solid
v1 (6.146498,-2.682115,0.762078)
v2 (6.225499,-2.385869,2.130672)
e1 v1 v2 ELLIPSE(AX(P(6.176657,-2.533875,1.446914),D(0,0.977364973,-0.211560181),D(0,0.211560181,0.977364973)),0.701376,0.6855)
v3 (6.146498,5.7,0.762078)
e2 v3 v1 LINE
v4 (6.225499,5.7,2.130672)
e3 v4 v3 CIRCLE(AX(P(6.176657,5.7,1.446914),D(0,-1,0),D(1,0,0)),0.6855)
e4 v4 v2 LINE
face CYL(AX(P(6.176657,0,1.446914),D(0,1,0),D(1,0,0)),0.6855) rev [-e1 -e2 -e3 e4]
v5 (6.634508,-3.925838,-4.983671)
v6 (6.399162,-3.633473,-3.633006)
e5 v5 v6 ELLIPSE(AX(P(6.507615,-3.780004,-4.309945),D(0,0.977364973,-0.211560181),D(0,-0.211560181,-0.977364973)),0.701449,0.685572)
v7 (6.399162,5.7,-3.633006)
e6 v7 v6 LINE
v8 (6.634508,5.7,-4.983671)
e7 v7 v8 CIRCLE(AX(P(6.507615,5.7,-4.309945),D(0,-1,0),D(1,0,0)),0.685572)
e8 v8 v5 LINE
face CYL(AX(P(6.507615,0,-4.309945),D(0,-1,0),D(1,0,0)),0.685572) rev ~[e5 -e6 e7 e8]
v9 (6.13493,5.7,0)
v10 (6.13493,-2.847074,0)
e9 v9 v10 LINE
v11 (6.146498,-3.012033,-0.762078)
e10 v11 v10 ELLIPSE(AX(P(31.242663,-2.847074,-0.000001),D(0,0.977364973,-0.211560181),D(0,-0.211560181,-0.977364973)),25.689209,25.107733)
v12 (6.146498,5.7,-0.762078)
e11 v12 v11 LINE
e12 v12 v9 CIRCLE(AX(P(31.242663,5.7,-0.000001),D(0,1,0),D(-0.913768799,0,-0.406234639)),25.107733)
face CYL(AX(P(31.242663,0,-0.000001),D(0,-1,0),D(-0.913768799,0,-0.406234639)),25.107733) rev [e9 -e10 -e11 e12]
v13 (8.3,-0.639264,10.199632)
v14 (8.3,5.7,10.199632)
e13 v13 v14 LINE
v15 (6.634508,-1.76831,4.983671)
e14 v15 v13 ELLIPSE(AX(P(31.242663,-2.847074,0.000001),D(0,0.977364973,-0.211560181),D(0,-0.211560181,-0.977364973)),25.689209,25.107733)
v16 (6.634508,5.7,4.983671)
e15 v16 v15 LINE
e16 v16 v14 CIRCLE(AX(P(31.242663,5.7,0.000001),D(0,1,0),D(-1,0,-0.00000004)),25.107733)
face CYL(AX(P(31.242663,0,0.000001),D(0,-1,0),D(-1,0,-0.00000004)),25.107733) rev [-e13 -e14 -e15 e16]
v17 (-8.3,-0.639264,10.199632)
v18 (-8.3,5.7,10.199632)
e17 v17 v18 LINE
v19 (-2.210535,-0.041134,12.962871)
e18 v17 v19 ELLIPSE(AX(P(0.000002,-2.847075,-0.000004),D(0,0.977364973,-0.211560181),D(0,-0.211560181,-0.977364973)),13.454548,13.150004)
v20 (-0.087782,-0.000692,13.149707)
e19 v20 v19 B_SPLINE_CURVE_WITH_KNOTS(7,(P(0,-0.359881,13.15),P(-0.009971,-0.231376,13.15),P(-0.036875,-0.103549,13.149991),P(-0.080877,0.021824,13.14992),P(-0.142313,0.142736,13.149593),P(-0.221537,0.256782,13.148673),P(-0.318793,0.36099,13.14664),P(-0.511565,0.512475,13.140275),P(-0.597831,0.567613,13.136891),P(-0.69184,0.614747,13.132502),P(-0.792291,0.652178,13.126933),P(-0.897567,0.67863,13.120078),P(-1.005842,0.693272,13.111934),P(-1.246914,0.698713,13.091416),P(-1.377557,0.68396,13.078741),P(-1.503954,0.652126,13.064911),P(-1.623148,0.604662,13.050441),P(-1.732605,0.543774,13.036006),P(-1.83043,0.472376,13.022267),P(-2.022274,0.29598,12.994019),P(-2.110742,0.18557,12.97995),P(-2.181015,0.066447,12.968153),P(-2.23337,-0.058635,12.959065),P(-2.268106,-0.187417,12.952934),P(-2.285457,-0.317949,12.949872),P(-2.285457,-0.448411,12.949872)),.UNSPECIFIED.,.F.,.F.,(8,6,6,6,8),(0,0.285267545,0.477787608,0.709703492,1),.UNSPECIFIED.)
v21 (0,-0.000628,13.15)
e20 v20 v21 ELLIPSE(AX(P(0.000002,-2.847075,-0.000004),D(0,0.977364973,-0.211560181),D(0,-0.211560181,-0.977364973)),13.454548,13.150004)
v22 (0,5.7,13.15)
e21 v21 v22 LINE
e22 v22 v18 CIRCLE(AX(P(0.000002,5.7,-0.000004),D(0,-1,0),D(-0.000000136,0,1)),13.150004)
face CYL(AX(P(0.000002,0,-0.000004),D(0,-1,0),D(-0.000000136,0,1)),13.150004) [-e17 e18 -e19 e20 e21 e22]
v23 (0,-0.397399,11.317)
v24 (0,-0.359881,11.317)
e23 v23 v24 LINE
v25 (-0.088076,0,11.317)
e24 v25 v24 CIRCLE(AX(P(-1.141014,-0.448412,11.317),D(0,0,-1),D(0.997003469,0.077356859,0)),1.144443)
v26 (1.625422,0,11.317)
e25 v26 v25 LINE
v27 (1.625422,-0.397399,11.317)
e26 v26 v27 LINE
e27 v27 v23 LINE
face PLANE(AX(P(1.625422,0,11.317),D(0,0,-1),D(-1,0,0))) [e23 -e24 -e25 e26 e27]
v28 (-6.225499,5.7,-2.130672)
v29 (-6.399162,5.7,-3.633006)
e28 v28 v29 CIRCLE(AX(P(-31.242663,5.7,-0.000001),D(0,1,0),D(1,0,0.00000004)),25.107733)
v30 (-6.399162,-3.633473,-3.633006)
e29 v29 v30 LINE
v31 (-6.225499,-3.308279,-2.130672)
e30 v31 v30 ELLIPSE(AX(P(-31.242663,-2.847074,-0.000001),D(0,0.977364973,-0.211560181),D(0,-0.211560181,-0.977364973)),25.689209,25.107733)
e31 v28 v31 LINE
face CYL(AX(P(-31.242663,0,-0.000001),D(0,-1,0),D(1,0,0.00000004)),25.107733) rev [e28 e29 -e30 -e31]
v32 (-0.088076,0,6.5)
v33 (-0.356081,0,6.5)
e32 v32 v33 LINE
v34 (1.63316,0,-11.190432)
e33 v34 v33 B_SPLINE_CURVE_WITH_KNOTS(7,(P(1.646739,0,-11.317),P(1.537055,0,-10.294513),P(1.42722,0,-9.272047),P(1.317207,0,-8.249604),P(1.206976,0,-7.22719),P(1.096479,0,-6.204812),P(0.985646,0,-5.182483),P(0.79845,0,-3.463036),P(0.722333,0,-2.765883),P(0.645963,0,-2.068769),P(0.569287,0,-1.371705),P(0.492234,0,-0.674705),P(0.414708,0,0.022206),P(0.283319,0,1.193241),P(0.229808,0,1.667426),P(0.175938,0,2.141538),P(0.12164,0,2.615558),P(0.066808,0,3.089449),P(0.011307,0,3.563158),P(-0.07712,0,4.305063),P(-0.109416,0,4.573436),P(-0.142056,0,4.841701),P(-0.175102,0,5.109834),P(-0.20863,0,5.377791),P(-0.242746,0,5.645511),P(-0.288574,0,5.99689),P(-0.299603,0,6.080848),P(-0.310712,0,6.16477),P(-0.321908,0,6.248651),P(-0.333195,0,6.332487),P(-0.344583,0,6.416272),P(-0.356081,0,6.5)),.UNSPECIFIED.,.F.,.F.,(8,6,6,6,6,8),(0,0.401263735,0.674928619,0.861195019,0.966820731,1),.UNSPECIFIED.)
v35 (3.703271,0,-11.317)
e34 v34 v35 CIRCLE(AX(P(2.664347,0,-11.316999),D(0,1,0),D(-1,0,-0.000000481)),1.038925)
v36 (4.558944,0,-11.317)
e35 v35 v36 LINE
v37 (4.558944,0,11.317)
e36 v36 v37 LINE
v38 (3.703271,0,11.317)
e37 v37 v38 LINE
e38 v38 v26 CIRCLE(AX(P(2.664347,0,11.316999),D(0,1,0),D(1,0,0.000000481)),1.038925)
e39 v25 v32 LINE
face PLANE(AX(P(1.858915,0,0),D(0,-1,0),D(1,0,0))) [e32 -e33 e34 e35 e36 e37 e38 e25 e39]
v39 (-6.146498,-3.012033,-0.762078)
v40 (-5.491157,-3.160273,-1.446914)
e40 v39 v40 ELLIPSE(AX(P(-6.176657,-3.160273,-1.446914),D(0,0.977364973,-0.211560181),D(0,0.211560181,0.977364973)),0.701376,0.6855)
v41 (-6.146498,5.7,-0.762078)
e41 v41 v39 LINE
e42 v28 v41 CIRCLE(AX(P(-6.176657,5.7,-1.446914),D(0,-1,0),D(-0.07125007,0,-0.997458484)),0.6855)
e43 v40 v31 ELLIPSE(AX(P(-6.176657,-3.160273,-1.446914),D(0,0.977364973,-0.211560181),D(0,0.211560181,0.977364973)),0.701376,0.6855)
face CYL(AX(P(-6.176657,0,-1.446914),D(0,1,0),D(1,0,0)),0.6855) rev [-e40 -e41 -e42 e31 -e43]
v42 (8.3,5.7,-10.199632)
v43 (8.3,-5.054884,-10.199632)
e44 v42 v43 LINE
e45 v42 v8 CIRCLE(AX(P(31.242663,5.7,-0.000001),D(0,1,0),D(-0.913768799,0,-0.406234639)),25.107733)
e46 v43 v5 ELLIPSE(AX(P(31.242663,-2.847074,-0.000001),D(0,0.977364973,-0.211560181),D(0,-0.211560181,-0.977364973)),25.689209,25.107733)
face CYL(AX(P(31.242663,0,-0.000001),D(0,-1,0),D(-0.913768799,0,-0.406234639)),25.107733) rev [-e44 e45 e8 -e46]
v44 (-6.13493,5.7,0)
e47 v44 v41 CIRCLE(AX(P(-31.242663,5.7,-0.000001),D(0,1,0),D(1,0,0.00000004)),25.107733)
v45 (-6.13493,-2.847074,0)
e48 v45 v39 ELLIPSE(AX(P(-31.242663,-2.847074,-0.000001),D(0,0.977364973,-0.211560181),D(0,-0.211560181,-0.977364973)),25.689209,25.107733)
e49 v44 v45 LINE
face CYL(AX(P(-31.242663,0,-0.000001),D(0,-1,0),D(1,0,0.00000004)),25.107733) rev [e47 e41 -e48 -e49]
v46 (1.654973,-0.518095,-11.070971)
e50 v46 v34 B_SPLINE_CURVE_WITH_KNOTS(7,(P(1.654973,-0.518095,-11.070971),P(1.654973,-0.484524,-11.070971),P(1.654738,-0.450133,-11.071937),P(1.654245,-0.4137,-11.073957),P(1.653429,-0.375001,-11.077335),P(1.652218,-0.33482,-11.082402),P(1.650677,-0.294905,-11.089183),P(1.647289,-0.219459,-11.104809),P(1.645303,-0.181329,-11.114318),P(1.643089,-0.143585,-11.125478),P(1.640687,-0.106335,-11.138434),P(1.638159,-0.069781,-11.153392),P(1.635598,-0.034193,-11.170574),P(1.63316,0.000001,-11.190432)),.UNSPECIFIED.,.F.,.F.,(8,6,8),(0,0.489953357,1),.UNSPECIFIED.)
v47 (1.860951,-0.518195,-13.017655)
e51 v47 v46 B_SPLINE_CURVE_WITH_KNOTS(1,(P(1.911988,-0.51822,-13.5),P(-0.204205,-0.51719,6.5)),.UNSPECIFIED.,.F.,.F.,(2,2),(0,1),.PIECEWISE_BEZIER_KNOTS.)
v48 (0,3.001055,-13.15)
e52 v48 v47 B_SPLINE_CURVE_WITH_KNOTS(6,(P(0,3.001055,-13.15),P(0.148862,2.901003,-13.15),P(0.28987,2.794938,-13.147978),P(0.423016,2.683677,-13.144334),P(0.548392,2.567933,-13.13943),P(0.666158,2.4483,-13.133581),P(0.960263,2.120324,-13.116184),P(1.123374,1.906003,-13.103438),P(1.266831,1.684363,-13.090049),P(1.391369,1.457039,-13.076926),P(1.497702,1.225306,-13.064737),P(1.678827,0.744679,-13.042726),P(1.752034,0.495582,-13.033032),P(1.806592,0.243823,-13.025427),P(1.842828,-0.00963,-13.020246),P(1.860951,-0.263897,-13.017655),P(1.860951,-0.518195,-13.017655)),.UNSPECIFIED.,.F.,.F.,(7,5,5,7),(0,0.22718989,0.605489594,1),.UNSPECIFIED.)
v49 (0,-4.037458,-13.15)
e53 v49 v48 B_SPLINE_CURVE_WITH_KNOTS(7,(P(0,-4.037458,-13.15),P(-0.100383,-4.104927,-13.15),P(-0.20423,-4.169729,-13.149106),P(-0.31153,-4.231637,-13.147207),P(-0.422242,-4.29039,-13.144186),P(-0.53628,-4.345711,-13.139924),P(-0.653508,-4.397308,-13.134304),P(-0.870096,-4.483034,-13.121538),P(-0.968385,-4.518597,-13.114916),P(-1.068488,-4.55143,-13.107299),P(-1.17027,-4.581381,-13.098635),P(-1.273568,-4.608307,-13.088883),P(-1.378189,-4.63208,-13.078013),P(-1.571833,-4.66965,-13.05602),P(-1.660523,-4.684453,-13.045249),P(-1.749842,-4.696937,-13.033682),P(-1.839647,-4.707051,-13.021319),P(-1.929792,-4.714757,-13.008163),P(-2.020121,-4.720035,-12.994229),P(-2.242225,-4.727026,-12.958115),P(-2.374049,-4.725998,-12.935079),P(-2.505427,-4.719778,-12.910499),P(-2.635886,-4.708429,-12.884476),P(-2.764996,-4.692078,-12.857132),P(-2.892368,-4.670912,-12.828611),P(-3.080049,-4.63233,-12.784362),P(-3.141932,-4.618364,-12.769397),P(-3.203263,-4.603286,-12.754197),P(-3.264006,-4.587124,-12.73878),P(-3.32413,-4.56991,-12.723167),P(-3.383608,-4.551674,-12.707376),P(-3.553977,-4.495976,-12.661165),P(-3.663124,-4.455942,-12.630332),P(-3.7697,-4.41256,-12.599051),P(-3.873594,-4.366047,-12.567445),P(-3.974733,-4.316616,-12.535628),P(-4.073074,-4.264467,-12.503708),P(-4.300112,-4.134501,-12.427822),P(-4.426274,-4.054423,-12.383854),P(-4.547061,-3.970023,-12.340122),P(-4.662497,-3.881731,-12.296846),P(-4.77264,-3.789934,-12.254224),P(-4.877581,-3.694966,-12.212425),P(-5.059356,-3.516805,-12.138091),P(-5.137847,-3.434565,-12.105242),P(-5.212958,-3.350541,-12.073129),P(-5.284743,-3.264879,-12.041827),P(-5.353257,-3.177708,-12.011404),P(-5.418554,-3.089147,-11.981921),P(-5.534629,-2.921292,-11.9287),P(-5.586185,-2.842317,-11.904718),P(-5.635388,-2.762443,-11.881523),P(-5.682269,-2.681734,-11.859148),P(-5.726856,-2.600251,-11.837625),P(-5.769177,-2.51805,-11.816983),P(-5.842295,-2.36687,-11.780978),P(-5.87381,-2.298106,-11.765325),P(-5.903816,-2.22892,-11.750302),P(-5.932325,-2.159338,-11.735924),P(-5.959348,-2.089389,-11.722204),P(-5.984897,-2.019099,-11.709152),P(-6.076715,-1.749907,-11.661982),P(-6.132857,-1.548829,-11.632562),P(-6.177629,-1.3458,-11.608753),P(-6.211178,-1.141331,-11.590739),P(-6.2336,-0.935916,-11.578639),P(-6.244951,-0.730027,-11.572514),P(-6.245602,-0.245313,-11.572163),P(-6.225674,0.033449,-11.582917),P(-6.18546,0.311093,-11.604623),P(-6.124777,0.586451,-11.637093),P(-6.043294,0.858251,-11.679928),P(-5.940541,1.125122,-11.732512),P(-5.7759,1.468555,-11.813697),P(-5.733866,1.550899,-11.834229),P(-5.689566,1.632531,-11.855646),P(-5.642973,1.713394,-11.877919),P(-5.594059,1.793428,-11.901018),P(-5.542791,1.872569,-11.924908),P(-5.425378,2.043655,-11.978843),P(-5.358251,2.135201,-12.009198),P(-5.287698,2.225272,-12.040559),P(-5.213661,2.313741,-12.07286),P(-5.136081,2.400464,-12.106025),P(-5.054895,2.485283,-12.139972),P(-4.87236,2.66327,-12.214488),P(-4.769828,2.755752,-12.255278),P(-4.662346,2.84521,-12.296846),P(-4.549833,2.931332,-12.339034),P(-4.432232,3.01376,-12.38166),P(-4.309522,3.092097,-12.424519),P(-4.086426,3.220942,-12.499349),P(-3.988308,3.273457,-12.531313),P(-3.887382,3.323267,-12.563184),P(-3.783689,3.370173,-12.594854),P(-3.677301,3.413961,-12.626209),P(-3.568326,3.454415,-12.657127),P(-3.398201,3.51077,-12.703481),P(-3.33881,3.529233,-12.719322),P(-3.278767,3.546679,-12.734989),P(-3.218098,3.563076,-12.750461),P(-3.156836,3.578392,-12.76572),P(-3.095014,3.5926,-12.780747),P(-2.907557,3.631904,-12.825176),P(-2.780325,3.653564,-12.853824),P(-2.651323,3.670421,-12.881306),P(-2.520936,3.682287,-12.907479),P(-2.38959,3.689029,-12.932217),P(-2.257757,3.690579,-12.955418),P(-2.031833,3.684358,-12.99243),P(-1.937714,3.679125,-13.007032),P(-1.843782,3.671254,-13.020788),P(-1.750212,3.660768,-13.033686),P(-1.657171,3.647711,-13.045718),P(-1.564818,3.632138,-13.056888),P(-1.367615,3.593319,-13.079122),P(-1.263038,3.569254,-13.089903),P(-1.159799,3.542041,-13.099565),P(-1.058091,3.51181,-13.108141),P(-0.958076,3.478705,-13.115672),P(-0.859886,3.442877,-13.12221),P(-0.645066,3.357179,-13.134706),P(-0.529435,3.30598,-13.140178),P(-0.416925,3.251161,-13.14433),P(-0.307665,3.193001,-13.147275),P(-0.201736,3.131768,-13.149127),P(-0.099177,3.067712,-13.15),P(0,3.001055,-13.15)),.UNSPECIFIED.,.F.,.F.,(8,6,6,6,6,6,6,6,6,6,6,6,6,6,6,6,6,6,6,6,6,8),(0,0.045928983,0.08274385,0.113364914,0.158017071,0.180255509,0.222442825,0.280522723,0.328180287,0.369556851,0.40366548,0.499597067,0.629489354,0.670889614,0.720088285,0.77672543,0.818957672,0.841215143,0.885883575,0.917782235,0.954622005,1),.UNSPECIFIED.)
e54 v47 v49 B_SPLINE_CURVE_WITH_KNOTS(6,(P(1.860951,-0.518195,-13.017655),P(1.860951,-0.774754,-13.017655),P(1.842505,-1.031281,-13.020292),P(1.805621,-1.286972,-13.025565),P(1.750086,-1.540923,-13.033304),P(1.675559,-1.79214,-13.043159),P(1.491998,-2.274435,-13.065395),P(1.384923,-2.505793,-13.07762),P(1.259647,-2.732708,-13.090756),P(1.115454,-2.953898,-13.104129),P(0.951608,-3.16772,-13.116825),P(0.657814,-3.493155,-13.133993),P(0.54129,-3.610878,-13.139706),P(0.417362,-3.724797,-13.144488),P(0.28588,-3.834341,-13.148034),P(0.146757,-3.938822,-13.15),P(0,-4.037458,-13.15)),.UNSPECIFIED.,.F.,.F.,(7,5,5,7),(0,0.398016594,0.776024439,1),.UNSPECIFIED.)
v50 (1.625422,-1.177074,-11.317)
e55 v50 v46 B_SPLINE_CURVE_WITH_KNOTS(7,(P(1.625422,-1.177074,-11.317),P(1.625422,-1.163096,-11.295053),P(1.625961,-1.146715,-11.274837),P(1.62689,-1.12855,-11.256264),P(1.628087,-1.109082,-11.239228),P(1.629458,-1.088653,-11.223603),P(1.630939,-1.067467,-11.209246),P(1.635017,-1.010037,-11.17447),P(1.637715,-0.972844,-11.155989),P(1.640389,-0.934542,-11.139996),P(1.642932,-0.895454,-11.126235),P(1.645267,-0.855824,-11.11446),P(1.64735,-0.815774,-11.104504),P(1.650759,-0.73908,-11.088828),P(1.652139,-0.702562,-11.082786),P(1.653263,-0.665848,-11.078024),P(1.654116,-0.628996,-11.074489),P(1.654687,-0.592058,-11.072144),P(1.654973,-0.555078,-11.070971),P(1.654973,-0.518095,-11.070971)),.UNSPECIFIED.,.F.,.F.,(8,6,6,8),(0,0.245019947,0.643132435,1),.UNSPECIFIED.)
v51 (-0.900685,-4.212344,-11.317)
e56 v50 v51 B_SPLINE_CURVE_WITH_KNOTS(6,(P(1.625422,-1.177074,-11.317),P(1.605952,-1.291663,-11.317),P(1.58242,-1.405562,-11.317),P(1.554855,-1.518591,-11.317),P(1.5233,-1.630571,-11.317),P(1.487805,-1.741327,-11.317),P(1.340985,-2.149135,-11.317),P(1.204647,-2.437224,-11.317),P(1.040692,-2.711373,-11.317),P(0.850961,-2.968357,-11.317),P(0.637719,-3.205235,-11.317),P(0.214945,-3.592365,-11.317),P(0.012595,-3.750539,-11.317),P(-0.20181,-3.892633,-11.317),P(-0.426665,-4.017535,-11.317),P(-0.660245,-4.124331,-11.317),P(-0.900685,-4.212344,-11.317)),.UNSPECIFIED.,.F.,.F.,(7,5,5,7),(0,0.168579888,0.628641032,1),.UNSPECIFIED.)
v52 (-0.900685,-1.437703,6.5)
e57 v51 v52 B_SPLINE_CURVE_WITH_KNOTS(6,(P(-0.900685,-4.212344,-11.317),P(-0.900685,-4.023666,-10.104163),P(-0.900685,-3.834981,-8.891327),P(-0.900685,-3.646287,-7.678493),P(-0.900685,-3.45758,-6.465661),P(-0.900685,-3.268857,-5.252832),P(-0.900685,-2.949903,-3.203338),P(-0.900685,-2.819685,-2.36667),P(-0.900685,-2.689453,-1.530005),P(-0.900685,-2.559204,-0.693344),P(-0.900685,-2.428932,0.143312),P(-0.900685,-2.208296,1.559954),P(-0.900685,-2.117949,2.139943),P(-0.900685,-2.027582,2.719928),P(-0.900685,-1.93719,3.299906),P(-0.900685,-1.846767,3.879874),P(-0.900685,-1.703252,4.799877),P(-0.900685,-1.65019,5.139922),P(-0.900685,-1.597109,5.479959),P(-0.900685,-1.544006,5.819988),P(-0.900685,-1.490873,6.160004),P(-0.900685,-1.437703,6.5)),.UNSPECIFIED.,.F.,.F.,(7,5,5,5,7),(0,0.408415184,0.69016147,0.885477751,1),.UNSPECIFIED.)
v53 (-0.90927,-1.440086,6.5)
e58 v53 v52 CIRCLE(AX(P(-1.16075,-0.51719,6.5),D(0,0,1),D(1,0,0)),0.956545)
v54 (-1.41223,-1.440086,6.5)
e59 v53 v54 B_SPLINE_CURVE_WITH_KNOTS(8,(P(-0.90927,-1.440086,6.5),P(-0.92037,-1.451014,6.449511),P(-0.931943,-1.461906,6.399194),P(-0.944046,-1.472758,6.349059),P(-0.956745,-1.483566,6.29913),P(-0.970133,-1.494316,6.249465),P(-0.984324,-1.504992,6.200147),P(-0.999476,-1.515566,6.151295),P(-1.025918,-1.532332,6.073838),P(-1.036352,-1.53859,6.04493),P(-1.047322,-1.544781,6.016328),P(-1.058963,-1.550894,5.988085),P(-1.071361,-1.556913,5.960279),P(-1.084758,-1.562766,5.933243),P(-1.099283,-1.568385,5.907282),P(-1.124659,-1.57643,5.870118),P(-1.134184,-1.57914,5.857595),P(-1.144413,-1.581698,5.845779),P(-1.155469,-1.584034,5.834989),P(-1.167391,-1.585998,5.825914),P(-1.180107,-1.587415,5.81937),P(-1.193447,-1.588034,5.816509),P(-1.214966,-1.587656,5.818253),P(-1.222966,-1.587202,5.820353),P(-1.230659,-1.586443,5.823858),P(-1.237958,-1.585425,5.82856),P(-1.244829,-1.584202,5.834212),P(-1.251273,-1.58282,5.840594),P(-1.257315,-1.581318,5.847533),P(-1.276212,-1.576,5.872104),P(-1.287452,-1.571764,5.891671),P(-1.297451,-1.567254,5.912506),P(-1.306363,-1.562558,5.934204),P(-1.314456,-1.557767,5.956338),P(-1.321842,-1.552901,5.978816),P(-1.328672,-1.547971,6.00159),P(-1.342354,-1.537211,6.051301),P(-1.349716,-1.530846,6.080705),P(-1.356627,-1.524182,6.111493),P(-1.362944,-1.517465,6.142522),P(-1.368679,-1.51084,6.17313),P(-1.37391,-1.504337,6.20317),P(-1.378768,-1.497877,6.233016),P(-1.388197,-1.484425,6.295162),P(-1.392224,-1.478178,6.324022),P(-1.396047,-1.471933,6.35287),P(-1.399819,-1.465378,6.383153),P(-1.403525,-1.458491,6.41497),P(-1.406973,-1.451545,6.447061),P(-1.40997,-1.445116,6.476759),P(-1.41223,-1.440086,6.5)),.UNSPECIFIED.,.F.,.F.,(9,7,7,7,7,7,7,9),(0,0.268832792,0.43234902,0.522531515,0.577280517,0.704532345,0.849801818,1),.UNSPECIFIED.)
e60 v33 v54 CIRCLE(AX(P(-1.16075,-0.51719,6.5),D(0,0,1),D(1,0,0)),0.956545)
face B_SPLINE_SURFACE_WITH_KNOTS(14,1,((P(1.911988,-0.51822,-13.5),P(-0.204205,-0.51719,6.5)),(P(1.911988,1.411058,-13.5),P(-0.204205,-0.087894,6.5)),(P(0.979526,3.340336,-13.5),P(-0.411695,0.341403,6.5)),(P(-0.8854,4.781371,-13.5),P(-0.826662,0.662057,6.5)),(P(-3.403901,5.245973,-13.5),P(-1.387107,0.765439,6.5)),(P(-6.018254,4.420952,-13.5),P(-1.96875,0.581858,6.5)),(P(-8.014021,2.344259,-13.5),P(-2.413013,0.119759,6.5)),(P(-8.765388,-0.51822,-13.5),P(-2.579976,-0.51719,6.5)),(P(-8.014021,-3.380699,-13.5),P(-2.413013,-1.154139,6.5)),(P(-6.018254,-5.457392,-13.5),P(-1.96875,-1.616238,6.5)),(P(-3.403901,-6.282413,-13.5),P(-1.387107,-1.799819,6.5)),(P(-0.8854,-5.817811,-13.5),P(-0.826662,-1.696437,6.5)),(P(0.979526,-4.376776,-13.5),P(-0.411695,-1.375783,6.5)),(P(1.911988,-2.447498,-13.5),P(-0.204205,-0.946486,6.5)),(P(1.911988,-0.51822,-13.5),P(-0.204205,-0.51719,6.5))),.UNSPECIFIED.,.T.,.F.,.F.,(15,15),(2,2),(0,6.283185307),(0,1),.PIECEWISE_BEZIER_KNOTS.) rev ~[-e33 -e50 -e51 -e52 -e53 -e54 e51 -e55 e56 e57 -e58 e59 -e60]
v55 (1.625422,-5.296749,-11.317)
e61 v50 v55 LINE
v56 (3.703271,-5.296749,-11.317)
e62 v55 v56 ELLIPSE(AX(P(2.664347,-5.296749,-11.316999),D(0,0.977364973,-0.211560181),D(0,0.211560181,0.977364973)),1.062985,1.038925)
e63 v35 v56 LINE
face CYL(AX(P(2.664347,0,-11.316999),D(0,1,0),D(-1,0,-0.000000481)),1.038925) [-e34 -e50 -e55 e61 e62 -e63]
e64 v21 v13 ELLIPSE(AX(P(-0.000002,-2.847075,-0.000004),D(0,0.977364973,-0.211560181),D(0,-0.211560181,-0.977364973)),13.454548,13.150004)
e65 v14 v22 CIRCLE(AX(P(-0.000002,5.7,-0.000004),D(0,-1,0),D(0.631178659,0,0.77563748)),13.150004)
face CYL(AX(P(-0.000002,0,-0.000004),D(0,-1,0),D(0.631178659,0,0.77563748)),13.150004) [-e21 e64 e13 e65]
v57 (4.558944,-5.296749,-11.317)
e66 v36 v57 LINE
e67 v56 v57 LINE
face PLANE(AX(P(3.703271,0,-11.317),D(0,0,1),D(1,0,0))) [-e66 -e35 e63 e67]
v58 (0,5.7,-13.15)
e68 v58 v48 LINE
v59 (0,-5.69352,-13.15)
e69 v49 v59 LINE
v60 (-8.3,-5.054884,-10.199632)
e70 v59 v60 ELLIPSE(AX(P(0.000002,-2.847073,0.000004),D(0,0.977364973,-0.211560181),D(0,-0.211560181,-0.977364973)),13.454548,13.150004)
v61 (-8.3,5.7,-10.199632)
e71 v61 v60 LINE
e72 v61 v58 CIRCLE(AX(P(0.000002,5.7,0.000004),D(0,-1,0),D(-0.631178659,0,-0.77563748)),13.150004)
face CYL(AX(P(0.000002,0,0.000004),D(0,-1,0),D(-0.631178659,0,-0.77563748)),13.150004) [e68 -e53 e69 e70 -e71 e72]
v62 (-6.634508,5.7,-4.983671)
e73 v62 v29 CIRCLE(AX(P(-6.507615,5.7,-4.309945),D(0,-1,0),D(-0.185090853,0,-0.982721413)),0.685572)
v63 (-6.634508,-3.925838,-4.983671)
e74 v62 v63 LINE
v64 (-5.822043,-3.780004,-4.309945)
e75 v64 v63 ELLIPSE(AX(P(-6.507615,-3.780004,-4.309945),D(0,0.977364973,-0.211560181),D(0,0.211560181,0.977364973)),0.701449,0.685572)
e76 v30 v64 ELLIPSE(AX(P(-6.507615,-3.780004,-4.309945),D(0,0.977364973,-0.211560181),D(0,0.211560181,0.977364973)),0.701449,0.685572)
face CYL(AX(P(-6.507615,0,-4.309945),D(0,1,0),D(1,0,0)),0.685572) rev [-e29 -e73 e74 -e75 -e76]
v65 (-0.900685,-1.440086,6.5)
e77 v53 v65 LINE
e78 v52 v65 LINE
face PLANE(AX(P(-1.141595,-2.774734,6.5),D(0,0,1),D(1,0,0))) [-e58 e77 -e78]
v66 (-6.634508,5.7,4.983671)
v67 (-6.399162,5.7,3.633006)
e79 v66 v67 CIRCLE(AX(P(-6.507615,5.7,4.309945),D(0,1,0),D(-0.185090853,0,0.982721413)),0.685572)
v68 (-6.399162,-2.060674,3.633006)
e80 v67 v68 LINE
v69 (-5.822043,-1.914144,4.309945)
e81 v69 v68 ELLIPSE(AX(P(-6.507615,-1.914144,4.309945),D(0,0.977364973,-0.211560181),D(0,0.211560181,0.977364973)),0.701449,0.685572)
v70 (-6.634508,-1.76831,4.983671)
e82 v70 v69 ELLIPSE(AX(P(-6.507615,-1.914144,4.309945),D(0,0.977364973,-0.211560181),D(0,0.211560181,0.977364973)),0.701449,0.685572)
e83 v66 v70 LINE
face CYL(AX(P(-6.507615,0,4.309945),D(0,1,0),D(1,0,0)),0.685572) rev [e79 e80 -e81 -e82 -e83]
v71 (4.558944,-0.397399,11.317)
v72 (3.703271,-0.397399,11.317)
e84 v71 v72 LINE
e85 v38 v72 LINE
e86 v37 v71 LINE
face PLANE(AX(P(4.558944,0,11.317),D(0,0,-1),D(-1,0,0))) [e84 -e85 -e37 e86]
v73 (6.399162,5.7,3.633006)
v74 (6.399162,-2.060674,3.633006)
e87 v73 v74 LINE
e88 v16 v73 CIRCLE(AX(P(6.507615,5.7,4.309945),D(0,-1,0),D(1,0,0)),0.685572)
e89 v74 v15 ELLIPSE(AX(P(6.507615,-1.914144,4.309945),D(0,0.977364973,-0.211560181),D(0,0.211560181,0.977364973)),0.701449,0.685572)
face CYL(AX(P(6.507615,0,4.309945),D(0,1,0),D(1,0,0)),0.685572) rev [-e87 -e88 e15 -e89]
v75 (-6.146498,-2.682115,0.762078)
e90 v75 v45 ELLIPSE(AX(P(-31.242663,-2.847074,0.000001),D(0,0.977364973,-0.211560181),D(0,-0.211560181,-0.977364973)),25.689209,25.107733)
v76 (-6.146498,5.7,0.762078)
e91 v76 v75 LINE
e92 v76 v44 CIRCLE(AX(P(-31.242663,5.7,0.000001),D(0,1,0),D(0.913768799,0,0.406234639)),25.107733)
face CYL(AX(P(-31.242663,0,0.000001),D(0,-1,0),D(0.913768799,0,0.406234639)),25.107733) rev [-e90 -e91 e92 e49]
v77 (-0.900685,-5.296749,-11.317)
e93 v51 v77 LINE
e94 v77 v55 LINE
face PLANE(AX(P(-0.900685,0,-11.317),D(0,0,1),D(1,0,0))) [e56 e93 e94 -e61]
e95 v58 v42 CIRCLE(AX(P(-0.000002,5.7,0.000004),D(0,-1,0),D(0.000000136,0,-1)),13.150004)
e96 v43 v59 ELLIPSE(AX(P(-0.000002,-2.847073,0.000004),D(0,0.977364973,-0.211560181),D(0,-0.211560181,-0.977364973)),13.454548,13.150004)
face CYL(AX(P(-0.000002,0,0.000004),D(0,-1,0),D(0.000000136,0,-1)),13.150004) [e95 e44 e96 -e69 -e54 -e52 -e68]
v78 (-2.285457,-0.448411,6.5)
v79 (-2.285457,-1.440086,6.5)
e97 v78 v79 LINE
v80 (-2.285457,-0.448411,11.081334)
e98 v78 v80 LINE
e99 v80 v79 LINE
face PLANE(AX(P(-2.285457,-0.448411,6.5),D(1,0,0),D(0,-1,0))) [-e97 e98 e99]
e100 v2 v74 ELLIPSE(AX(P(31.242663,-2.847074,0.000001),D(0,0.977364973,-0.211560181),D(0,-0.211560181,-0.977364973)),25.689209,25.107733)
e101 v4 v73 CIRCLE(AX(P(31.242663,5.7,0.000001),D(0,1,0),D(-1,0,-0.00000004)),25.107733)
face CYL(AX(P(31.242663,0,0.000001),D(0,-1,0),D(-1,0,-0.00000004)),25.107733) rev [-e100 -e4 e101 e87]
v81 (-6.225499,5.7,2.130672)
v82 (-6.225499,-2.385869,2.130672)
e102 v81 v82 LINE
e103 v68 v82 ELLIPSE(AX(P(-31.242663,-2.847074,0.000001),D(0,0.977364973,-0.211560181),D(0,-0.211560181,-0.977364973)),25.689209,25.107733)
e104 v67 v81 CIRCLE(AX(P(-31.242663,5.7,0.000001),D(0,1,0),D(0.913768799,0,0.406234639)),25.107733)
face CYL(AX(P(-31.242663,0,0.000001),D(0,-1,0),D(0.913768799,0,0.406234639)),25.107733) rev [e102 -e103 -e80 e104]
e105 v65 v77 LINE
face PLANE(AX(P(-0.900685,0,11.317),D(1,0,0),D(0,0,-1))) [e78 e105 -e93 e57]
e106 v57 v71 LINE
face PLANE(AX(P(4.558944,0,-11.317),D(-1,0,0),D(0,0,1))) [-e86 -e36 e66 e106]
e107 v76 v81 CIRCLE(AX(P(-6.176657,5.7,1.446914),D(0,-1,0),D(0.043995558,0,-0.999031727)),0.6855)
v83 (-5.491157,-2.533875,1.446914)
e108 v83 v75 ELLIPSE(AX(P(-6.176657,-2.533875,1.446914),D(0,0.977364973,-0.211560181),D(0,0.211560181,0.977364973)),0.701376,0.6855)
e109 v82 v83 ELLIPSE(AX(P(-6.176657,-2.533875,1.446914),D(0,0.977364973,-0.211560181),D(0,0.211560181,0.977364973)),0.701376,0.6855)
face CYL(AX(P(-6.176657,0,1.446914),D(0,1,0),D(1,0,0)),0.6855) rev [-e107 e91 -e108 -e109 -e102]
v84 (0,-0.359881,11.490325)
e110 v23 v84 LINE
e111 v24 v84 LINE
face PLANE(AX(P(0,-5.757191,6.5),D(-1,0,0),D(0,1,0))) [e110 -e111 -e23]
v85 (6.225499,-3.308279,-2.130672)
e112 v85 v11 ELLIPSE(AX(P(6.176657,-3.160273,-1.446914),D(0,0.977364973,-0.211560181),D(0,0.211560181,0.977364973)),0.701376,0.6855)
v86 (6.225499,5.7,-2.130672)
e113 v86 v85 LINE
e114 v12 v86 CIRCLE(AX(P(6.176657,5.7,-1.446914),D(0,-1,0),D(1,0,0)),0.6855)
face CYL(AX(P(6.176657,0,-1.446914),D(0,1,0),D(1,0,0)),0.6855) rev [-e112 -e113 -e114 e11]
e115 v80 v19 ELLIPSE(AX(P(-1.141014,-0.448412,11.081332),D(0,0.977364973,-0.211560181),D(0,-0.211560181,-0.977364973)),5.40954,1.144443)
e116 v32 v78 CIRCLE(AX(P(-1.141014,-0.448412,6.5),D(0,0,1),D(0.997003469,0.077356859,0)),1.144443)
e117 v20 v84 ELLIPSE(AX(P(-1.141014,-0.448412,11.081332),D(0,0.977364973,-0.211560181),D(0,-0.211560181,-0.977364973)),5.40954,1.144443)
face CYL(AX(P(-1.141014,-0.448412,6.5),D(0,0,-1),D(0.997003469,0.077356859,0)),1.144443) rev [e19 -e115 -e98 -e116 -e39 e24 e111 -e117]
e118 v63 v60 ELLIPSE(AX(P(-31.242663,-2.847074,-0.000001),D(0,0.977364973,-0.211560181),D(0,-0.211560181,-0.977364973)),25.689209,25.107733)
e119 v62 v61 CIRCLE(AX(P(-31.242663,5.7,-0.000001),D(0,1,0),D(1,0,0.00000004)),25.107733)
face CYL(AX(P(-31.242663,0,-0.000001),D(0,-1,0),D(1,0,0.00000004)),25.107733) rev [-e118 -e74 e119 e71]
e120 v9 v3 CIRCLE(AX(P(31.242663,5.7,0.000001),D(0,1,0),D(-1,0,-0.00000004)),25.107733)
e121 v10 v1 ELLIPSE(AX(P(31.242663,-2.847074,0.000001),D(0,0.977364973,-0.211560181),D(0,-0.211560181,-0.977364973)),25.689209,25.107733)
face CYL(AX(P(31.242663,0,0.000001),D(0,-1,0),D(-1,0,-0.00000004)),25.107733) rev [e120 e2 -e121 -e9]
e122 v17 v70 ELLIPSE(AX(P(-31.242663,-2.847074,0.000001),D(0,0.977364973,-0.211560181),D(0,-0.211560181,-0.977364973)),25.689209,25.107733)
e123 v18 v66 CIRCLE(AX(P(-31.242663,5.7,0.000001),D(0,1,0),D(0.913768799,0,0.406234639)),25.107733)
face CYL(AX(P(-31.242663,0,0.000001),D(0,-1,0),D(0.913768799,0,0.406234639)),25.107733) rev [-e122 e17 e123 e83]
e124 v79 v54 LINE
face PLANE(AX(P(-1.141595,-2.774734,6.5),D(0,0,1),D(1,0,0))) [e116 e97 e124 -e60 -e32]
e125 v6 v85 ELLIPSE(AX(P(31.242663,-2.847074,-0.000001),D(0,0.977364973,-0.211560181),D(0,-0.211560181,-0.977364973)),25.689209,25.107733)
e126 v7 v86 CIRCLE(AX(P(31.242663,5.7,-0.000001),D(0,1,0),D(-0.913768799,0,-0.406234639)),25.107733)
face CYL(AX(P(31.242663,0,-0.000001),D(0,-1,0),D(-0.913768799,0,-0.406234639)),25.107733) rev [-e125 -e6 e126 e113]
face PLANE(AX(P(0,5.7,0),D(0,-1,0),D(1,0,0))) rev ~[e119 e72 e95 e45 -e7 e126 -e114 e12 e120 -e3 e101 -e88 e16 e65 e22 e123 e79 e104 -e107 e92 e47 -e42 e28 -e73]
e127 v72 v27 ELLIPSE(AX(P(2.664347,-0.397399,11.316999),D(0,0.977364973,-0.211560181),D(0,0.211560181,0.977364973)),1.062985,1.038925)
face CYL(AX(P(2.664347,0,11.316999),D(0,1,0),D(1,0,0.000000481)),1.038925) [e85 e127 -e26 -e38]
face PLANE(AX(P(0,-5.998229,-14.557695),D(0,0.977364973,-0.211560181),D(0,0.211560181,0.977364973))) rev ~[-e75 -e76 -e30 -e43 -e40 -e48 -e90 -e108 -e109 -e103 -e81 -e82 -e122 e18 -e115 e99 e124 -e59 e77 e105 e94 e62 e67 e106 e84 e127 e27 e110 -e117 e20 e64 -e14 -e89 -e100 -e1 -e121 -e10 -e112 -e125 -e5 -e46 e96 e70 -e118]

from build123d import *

# Parameters (mm, degrees)
F1_DEPTH  = 5.7
F3_DEPTH  = 18.44198
F4_R      = 0.685572
F4_R_2    = 0.6855
F5_DEPTH  = 15.48248
F7_DEPTH  = 25
F10_R     = 4.298757
F11_R     = 0.956545
F14_DEPTH = 25


with BuildPart() as f1:
    # F0 (on Front) → F1 (new body, symmetric)
    with BuildSketch(Plane.XZ):
        with BuildLine():
            ThreePointArc((-8.3, 10.199632), (-6.682161, 5.213445), (-6.13493, 0))
            ThreePointArc((-6.13493, 0), (-6.682161, -5.213445), (-8.3, -10.199632))
            ThreePointArc((-8.3, -10.199632), (-4.404392, -12.390473), (0, -13.15))
            ThreePointArc((0, -13.15), (4.404392, -12.390473), (8.3, -10.199632))
            ThreePointArc((8.3, -10.199632), (6.682161, -5.213445), (6.13493, 0))
            ThreePointArc((6.13493, 0), (6.682161, 5.213445), (8.3, 10.199632))
            ThreePointArc((8.3, 10.199632), (4.404392, 12.390473), (0, 13.15))
            ThreePointArc((0, 13.15), (-4.404392, 12.390473), (-8.3, 10.199632))
        make_face()
    extrude(amount=F1_DEPTH, both=True)

    # F2 (on Right) → F3 (cut, symmetric)
    with BuildSketch(Plane.YZ):
        Polygon((-5.998229, -14.557695), (0, 13.152902), (-5.998229, 13.152902), align=None)
    extrude(amount=F3_DEPTH, both=True, mode=Mode.SUBTRACT)

    # F4 (on Front) → F5 (cut, symmetric)
    with BuildSketch(Plane.XZ):
        with Locations((-6.507615, 4.309945)):
            Circle(F4_R)
        with Locations((-6.507615, -4.309945)):
            Circle(F4_R)
        with Locations((-6.176657, 1.446914)):
            Circle(F4_R_2)
        with Locations((-6.176657, -1.446914)):
            Circle(F4_R_2)
        with Locations((6.507615, 4.309945)):
            Circle(F4_R)
        with Locations((6.176657, 1.446914)):
            Circle(F4_R_2)
        with Locations((6.176657, -1.446914)):
            Circle(F4_R_2)
        with Locations((6.507615, -4.309945)):
            Circle(F4_R)
    extrude(amount=F5_DEPTH, both=True, mode=Mode.SUBTRACT)

    # F6 (on Front) → F7 (cut)
    with BuildSketch(Plane.XZ):
        with BuildLine():
            Line((4.558944, 0), (4.558944, 11.317))
            Line((4.558944, 11.317), (3.703271, 11.317))
            ThreePointArc((3.703271, 11.317), (2.664347, 10.278075), (1.625422, 11.317))
            Line((1.625422, 11.317), (-0.900685, 11.317))
            Line((-0.900685, 11.317), (-0.900685, 0))
            Line((-0.900685, 0), (-0.900685, -11.317))
            Line((-0.900685, -11.317), (1.625422, -11.317))
            ThreePointArc((1.625422, -11.317), (2.664347, -10.278075), (3.703271, -11.317))
            Line((3.703271, -11.317), (4.558944, -11.317))
            Line((4.558944, -11.317), (4.558944, 0))
        make_face()
    extrude(amount=F7_DEPTH, mode=Mode.SUBTRACT)

    # F10 (on offset) → F12 section 0
    with BuildSketch(Plane.XY.offset(-13.5)):
        with Locations((-2.386769, -0.51822)):
            Circle(F10_R)
    # F11 (on offset) → F12 section 1
    with BuildSketch(Plane.XY.offset(6.5)):
        with Locations((-1.16075, -0.51719)):
            Circle(F11_R)
    loft(mode=Mode.SUBTRACT)

    # F13 (on offset) → F14 (cut)
    with BuildSketch(Plane.XY.offset(6.5)):
        with BuildLine():
            Line((0, -5.757191), (0, -0.359881))
            ThreePointArc((0, -0.359881), (-1.185312, 0.695174), (-2.285457, -0.448411))
            Line((-2.285457, -0.448411), (-2.285457, -5.757191))
            Line((-2.285457, -5.757191), (0, -5.757191))
        make_face()
    extrude(amount=F14_DEPTH, mode=Mode.SUBTRACT)


solid = f1.part
